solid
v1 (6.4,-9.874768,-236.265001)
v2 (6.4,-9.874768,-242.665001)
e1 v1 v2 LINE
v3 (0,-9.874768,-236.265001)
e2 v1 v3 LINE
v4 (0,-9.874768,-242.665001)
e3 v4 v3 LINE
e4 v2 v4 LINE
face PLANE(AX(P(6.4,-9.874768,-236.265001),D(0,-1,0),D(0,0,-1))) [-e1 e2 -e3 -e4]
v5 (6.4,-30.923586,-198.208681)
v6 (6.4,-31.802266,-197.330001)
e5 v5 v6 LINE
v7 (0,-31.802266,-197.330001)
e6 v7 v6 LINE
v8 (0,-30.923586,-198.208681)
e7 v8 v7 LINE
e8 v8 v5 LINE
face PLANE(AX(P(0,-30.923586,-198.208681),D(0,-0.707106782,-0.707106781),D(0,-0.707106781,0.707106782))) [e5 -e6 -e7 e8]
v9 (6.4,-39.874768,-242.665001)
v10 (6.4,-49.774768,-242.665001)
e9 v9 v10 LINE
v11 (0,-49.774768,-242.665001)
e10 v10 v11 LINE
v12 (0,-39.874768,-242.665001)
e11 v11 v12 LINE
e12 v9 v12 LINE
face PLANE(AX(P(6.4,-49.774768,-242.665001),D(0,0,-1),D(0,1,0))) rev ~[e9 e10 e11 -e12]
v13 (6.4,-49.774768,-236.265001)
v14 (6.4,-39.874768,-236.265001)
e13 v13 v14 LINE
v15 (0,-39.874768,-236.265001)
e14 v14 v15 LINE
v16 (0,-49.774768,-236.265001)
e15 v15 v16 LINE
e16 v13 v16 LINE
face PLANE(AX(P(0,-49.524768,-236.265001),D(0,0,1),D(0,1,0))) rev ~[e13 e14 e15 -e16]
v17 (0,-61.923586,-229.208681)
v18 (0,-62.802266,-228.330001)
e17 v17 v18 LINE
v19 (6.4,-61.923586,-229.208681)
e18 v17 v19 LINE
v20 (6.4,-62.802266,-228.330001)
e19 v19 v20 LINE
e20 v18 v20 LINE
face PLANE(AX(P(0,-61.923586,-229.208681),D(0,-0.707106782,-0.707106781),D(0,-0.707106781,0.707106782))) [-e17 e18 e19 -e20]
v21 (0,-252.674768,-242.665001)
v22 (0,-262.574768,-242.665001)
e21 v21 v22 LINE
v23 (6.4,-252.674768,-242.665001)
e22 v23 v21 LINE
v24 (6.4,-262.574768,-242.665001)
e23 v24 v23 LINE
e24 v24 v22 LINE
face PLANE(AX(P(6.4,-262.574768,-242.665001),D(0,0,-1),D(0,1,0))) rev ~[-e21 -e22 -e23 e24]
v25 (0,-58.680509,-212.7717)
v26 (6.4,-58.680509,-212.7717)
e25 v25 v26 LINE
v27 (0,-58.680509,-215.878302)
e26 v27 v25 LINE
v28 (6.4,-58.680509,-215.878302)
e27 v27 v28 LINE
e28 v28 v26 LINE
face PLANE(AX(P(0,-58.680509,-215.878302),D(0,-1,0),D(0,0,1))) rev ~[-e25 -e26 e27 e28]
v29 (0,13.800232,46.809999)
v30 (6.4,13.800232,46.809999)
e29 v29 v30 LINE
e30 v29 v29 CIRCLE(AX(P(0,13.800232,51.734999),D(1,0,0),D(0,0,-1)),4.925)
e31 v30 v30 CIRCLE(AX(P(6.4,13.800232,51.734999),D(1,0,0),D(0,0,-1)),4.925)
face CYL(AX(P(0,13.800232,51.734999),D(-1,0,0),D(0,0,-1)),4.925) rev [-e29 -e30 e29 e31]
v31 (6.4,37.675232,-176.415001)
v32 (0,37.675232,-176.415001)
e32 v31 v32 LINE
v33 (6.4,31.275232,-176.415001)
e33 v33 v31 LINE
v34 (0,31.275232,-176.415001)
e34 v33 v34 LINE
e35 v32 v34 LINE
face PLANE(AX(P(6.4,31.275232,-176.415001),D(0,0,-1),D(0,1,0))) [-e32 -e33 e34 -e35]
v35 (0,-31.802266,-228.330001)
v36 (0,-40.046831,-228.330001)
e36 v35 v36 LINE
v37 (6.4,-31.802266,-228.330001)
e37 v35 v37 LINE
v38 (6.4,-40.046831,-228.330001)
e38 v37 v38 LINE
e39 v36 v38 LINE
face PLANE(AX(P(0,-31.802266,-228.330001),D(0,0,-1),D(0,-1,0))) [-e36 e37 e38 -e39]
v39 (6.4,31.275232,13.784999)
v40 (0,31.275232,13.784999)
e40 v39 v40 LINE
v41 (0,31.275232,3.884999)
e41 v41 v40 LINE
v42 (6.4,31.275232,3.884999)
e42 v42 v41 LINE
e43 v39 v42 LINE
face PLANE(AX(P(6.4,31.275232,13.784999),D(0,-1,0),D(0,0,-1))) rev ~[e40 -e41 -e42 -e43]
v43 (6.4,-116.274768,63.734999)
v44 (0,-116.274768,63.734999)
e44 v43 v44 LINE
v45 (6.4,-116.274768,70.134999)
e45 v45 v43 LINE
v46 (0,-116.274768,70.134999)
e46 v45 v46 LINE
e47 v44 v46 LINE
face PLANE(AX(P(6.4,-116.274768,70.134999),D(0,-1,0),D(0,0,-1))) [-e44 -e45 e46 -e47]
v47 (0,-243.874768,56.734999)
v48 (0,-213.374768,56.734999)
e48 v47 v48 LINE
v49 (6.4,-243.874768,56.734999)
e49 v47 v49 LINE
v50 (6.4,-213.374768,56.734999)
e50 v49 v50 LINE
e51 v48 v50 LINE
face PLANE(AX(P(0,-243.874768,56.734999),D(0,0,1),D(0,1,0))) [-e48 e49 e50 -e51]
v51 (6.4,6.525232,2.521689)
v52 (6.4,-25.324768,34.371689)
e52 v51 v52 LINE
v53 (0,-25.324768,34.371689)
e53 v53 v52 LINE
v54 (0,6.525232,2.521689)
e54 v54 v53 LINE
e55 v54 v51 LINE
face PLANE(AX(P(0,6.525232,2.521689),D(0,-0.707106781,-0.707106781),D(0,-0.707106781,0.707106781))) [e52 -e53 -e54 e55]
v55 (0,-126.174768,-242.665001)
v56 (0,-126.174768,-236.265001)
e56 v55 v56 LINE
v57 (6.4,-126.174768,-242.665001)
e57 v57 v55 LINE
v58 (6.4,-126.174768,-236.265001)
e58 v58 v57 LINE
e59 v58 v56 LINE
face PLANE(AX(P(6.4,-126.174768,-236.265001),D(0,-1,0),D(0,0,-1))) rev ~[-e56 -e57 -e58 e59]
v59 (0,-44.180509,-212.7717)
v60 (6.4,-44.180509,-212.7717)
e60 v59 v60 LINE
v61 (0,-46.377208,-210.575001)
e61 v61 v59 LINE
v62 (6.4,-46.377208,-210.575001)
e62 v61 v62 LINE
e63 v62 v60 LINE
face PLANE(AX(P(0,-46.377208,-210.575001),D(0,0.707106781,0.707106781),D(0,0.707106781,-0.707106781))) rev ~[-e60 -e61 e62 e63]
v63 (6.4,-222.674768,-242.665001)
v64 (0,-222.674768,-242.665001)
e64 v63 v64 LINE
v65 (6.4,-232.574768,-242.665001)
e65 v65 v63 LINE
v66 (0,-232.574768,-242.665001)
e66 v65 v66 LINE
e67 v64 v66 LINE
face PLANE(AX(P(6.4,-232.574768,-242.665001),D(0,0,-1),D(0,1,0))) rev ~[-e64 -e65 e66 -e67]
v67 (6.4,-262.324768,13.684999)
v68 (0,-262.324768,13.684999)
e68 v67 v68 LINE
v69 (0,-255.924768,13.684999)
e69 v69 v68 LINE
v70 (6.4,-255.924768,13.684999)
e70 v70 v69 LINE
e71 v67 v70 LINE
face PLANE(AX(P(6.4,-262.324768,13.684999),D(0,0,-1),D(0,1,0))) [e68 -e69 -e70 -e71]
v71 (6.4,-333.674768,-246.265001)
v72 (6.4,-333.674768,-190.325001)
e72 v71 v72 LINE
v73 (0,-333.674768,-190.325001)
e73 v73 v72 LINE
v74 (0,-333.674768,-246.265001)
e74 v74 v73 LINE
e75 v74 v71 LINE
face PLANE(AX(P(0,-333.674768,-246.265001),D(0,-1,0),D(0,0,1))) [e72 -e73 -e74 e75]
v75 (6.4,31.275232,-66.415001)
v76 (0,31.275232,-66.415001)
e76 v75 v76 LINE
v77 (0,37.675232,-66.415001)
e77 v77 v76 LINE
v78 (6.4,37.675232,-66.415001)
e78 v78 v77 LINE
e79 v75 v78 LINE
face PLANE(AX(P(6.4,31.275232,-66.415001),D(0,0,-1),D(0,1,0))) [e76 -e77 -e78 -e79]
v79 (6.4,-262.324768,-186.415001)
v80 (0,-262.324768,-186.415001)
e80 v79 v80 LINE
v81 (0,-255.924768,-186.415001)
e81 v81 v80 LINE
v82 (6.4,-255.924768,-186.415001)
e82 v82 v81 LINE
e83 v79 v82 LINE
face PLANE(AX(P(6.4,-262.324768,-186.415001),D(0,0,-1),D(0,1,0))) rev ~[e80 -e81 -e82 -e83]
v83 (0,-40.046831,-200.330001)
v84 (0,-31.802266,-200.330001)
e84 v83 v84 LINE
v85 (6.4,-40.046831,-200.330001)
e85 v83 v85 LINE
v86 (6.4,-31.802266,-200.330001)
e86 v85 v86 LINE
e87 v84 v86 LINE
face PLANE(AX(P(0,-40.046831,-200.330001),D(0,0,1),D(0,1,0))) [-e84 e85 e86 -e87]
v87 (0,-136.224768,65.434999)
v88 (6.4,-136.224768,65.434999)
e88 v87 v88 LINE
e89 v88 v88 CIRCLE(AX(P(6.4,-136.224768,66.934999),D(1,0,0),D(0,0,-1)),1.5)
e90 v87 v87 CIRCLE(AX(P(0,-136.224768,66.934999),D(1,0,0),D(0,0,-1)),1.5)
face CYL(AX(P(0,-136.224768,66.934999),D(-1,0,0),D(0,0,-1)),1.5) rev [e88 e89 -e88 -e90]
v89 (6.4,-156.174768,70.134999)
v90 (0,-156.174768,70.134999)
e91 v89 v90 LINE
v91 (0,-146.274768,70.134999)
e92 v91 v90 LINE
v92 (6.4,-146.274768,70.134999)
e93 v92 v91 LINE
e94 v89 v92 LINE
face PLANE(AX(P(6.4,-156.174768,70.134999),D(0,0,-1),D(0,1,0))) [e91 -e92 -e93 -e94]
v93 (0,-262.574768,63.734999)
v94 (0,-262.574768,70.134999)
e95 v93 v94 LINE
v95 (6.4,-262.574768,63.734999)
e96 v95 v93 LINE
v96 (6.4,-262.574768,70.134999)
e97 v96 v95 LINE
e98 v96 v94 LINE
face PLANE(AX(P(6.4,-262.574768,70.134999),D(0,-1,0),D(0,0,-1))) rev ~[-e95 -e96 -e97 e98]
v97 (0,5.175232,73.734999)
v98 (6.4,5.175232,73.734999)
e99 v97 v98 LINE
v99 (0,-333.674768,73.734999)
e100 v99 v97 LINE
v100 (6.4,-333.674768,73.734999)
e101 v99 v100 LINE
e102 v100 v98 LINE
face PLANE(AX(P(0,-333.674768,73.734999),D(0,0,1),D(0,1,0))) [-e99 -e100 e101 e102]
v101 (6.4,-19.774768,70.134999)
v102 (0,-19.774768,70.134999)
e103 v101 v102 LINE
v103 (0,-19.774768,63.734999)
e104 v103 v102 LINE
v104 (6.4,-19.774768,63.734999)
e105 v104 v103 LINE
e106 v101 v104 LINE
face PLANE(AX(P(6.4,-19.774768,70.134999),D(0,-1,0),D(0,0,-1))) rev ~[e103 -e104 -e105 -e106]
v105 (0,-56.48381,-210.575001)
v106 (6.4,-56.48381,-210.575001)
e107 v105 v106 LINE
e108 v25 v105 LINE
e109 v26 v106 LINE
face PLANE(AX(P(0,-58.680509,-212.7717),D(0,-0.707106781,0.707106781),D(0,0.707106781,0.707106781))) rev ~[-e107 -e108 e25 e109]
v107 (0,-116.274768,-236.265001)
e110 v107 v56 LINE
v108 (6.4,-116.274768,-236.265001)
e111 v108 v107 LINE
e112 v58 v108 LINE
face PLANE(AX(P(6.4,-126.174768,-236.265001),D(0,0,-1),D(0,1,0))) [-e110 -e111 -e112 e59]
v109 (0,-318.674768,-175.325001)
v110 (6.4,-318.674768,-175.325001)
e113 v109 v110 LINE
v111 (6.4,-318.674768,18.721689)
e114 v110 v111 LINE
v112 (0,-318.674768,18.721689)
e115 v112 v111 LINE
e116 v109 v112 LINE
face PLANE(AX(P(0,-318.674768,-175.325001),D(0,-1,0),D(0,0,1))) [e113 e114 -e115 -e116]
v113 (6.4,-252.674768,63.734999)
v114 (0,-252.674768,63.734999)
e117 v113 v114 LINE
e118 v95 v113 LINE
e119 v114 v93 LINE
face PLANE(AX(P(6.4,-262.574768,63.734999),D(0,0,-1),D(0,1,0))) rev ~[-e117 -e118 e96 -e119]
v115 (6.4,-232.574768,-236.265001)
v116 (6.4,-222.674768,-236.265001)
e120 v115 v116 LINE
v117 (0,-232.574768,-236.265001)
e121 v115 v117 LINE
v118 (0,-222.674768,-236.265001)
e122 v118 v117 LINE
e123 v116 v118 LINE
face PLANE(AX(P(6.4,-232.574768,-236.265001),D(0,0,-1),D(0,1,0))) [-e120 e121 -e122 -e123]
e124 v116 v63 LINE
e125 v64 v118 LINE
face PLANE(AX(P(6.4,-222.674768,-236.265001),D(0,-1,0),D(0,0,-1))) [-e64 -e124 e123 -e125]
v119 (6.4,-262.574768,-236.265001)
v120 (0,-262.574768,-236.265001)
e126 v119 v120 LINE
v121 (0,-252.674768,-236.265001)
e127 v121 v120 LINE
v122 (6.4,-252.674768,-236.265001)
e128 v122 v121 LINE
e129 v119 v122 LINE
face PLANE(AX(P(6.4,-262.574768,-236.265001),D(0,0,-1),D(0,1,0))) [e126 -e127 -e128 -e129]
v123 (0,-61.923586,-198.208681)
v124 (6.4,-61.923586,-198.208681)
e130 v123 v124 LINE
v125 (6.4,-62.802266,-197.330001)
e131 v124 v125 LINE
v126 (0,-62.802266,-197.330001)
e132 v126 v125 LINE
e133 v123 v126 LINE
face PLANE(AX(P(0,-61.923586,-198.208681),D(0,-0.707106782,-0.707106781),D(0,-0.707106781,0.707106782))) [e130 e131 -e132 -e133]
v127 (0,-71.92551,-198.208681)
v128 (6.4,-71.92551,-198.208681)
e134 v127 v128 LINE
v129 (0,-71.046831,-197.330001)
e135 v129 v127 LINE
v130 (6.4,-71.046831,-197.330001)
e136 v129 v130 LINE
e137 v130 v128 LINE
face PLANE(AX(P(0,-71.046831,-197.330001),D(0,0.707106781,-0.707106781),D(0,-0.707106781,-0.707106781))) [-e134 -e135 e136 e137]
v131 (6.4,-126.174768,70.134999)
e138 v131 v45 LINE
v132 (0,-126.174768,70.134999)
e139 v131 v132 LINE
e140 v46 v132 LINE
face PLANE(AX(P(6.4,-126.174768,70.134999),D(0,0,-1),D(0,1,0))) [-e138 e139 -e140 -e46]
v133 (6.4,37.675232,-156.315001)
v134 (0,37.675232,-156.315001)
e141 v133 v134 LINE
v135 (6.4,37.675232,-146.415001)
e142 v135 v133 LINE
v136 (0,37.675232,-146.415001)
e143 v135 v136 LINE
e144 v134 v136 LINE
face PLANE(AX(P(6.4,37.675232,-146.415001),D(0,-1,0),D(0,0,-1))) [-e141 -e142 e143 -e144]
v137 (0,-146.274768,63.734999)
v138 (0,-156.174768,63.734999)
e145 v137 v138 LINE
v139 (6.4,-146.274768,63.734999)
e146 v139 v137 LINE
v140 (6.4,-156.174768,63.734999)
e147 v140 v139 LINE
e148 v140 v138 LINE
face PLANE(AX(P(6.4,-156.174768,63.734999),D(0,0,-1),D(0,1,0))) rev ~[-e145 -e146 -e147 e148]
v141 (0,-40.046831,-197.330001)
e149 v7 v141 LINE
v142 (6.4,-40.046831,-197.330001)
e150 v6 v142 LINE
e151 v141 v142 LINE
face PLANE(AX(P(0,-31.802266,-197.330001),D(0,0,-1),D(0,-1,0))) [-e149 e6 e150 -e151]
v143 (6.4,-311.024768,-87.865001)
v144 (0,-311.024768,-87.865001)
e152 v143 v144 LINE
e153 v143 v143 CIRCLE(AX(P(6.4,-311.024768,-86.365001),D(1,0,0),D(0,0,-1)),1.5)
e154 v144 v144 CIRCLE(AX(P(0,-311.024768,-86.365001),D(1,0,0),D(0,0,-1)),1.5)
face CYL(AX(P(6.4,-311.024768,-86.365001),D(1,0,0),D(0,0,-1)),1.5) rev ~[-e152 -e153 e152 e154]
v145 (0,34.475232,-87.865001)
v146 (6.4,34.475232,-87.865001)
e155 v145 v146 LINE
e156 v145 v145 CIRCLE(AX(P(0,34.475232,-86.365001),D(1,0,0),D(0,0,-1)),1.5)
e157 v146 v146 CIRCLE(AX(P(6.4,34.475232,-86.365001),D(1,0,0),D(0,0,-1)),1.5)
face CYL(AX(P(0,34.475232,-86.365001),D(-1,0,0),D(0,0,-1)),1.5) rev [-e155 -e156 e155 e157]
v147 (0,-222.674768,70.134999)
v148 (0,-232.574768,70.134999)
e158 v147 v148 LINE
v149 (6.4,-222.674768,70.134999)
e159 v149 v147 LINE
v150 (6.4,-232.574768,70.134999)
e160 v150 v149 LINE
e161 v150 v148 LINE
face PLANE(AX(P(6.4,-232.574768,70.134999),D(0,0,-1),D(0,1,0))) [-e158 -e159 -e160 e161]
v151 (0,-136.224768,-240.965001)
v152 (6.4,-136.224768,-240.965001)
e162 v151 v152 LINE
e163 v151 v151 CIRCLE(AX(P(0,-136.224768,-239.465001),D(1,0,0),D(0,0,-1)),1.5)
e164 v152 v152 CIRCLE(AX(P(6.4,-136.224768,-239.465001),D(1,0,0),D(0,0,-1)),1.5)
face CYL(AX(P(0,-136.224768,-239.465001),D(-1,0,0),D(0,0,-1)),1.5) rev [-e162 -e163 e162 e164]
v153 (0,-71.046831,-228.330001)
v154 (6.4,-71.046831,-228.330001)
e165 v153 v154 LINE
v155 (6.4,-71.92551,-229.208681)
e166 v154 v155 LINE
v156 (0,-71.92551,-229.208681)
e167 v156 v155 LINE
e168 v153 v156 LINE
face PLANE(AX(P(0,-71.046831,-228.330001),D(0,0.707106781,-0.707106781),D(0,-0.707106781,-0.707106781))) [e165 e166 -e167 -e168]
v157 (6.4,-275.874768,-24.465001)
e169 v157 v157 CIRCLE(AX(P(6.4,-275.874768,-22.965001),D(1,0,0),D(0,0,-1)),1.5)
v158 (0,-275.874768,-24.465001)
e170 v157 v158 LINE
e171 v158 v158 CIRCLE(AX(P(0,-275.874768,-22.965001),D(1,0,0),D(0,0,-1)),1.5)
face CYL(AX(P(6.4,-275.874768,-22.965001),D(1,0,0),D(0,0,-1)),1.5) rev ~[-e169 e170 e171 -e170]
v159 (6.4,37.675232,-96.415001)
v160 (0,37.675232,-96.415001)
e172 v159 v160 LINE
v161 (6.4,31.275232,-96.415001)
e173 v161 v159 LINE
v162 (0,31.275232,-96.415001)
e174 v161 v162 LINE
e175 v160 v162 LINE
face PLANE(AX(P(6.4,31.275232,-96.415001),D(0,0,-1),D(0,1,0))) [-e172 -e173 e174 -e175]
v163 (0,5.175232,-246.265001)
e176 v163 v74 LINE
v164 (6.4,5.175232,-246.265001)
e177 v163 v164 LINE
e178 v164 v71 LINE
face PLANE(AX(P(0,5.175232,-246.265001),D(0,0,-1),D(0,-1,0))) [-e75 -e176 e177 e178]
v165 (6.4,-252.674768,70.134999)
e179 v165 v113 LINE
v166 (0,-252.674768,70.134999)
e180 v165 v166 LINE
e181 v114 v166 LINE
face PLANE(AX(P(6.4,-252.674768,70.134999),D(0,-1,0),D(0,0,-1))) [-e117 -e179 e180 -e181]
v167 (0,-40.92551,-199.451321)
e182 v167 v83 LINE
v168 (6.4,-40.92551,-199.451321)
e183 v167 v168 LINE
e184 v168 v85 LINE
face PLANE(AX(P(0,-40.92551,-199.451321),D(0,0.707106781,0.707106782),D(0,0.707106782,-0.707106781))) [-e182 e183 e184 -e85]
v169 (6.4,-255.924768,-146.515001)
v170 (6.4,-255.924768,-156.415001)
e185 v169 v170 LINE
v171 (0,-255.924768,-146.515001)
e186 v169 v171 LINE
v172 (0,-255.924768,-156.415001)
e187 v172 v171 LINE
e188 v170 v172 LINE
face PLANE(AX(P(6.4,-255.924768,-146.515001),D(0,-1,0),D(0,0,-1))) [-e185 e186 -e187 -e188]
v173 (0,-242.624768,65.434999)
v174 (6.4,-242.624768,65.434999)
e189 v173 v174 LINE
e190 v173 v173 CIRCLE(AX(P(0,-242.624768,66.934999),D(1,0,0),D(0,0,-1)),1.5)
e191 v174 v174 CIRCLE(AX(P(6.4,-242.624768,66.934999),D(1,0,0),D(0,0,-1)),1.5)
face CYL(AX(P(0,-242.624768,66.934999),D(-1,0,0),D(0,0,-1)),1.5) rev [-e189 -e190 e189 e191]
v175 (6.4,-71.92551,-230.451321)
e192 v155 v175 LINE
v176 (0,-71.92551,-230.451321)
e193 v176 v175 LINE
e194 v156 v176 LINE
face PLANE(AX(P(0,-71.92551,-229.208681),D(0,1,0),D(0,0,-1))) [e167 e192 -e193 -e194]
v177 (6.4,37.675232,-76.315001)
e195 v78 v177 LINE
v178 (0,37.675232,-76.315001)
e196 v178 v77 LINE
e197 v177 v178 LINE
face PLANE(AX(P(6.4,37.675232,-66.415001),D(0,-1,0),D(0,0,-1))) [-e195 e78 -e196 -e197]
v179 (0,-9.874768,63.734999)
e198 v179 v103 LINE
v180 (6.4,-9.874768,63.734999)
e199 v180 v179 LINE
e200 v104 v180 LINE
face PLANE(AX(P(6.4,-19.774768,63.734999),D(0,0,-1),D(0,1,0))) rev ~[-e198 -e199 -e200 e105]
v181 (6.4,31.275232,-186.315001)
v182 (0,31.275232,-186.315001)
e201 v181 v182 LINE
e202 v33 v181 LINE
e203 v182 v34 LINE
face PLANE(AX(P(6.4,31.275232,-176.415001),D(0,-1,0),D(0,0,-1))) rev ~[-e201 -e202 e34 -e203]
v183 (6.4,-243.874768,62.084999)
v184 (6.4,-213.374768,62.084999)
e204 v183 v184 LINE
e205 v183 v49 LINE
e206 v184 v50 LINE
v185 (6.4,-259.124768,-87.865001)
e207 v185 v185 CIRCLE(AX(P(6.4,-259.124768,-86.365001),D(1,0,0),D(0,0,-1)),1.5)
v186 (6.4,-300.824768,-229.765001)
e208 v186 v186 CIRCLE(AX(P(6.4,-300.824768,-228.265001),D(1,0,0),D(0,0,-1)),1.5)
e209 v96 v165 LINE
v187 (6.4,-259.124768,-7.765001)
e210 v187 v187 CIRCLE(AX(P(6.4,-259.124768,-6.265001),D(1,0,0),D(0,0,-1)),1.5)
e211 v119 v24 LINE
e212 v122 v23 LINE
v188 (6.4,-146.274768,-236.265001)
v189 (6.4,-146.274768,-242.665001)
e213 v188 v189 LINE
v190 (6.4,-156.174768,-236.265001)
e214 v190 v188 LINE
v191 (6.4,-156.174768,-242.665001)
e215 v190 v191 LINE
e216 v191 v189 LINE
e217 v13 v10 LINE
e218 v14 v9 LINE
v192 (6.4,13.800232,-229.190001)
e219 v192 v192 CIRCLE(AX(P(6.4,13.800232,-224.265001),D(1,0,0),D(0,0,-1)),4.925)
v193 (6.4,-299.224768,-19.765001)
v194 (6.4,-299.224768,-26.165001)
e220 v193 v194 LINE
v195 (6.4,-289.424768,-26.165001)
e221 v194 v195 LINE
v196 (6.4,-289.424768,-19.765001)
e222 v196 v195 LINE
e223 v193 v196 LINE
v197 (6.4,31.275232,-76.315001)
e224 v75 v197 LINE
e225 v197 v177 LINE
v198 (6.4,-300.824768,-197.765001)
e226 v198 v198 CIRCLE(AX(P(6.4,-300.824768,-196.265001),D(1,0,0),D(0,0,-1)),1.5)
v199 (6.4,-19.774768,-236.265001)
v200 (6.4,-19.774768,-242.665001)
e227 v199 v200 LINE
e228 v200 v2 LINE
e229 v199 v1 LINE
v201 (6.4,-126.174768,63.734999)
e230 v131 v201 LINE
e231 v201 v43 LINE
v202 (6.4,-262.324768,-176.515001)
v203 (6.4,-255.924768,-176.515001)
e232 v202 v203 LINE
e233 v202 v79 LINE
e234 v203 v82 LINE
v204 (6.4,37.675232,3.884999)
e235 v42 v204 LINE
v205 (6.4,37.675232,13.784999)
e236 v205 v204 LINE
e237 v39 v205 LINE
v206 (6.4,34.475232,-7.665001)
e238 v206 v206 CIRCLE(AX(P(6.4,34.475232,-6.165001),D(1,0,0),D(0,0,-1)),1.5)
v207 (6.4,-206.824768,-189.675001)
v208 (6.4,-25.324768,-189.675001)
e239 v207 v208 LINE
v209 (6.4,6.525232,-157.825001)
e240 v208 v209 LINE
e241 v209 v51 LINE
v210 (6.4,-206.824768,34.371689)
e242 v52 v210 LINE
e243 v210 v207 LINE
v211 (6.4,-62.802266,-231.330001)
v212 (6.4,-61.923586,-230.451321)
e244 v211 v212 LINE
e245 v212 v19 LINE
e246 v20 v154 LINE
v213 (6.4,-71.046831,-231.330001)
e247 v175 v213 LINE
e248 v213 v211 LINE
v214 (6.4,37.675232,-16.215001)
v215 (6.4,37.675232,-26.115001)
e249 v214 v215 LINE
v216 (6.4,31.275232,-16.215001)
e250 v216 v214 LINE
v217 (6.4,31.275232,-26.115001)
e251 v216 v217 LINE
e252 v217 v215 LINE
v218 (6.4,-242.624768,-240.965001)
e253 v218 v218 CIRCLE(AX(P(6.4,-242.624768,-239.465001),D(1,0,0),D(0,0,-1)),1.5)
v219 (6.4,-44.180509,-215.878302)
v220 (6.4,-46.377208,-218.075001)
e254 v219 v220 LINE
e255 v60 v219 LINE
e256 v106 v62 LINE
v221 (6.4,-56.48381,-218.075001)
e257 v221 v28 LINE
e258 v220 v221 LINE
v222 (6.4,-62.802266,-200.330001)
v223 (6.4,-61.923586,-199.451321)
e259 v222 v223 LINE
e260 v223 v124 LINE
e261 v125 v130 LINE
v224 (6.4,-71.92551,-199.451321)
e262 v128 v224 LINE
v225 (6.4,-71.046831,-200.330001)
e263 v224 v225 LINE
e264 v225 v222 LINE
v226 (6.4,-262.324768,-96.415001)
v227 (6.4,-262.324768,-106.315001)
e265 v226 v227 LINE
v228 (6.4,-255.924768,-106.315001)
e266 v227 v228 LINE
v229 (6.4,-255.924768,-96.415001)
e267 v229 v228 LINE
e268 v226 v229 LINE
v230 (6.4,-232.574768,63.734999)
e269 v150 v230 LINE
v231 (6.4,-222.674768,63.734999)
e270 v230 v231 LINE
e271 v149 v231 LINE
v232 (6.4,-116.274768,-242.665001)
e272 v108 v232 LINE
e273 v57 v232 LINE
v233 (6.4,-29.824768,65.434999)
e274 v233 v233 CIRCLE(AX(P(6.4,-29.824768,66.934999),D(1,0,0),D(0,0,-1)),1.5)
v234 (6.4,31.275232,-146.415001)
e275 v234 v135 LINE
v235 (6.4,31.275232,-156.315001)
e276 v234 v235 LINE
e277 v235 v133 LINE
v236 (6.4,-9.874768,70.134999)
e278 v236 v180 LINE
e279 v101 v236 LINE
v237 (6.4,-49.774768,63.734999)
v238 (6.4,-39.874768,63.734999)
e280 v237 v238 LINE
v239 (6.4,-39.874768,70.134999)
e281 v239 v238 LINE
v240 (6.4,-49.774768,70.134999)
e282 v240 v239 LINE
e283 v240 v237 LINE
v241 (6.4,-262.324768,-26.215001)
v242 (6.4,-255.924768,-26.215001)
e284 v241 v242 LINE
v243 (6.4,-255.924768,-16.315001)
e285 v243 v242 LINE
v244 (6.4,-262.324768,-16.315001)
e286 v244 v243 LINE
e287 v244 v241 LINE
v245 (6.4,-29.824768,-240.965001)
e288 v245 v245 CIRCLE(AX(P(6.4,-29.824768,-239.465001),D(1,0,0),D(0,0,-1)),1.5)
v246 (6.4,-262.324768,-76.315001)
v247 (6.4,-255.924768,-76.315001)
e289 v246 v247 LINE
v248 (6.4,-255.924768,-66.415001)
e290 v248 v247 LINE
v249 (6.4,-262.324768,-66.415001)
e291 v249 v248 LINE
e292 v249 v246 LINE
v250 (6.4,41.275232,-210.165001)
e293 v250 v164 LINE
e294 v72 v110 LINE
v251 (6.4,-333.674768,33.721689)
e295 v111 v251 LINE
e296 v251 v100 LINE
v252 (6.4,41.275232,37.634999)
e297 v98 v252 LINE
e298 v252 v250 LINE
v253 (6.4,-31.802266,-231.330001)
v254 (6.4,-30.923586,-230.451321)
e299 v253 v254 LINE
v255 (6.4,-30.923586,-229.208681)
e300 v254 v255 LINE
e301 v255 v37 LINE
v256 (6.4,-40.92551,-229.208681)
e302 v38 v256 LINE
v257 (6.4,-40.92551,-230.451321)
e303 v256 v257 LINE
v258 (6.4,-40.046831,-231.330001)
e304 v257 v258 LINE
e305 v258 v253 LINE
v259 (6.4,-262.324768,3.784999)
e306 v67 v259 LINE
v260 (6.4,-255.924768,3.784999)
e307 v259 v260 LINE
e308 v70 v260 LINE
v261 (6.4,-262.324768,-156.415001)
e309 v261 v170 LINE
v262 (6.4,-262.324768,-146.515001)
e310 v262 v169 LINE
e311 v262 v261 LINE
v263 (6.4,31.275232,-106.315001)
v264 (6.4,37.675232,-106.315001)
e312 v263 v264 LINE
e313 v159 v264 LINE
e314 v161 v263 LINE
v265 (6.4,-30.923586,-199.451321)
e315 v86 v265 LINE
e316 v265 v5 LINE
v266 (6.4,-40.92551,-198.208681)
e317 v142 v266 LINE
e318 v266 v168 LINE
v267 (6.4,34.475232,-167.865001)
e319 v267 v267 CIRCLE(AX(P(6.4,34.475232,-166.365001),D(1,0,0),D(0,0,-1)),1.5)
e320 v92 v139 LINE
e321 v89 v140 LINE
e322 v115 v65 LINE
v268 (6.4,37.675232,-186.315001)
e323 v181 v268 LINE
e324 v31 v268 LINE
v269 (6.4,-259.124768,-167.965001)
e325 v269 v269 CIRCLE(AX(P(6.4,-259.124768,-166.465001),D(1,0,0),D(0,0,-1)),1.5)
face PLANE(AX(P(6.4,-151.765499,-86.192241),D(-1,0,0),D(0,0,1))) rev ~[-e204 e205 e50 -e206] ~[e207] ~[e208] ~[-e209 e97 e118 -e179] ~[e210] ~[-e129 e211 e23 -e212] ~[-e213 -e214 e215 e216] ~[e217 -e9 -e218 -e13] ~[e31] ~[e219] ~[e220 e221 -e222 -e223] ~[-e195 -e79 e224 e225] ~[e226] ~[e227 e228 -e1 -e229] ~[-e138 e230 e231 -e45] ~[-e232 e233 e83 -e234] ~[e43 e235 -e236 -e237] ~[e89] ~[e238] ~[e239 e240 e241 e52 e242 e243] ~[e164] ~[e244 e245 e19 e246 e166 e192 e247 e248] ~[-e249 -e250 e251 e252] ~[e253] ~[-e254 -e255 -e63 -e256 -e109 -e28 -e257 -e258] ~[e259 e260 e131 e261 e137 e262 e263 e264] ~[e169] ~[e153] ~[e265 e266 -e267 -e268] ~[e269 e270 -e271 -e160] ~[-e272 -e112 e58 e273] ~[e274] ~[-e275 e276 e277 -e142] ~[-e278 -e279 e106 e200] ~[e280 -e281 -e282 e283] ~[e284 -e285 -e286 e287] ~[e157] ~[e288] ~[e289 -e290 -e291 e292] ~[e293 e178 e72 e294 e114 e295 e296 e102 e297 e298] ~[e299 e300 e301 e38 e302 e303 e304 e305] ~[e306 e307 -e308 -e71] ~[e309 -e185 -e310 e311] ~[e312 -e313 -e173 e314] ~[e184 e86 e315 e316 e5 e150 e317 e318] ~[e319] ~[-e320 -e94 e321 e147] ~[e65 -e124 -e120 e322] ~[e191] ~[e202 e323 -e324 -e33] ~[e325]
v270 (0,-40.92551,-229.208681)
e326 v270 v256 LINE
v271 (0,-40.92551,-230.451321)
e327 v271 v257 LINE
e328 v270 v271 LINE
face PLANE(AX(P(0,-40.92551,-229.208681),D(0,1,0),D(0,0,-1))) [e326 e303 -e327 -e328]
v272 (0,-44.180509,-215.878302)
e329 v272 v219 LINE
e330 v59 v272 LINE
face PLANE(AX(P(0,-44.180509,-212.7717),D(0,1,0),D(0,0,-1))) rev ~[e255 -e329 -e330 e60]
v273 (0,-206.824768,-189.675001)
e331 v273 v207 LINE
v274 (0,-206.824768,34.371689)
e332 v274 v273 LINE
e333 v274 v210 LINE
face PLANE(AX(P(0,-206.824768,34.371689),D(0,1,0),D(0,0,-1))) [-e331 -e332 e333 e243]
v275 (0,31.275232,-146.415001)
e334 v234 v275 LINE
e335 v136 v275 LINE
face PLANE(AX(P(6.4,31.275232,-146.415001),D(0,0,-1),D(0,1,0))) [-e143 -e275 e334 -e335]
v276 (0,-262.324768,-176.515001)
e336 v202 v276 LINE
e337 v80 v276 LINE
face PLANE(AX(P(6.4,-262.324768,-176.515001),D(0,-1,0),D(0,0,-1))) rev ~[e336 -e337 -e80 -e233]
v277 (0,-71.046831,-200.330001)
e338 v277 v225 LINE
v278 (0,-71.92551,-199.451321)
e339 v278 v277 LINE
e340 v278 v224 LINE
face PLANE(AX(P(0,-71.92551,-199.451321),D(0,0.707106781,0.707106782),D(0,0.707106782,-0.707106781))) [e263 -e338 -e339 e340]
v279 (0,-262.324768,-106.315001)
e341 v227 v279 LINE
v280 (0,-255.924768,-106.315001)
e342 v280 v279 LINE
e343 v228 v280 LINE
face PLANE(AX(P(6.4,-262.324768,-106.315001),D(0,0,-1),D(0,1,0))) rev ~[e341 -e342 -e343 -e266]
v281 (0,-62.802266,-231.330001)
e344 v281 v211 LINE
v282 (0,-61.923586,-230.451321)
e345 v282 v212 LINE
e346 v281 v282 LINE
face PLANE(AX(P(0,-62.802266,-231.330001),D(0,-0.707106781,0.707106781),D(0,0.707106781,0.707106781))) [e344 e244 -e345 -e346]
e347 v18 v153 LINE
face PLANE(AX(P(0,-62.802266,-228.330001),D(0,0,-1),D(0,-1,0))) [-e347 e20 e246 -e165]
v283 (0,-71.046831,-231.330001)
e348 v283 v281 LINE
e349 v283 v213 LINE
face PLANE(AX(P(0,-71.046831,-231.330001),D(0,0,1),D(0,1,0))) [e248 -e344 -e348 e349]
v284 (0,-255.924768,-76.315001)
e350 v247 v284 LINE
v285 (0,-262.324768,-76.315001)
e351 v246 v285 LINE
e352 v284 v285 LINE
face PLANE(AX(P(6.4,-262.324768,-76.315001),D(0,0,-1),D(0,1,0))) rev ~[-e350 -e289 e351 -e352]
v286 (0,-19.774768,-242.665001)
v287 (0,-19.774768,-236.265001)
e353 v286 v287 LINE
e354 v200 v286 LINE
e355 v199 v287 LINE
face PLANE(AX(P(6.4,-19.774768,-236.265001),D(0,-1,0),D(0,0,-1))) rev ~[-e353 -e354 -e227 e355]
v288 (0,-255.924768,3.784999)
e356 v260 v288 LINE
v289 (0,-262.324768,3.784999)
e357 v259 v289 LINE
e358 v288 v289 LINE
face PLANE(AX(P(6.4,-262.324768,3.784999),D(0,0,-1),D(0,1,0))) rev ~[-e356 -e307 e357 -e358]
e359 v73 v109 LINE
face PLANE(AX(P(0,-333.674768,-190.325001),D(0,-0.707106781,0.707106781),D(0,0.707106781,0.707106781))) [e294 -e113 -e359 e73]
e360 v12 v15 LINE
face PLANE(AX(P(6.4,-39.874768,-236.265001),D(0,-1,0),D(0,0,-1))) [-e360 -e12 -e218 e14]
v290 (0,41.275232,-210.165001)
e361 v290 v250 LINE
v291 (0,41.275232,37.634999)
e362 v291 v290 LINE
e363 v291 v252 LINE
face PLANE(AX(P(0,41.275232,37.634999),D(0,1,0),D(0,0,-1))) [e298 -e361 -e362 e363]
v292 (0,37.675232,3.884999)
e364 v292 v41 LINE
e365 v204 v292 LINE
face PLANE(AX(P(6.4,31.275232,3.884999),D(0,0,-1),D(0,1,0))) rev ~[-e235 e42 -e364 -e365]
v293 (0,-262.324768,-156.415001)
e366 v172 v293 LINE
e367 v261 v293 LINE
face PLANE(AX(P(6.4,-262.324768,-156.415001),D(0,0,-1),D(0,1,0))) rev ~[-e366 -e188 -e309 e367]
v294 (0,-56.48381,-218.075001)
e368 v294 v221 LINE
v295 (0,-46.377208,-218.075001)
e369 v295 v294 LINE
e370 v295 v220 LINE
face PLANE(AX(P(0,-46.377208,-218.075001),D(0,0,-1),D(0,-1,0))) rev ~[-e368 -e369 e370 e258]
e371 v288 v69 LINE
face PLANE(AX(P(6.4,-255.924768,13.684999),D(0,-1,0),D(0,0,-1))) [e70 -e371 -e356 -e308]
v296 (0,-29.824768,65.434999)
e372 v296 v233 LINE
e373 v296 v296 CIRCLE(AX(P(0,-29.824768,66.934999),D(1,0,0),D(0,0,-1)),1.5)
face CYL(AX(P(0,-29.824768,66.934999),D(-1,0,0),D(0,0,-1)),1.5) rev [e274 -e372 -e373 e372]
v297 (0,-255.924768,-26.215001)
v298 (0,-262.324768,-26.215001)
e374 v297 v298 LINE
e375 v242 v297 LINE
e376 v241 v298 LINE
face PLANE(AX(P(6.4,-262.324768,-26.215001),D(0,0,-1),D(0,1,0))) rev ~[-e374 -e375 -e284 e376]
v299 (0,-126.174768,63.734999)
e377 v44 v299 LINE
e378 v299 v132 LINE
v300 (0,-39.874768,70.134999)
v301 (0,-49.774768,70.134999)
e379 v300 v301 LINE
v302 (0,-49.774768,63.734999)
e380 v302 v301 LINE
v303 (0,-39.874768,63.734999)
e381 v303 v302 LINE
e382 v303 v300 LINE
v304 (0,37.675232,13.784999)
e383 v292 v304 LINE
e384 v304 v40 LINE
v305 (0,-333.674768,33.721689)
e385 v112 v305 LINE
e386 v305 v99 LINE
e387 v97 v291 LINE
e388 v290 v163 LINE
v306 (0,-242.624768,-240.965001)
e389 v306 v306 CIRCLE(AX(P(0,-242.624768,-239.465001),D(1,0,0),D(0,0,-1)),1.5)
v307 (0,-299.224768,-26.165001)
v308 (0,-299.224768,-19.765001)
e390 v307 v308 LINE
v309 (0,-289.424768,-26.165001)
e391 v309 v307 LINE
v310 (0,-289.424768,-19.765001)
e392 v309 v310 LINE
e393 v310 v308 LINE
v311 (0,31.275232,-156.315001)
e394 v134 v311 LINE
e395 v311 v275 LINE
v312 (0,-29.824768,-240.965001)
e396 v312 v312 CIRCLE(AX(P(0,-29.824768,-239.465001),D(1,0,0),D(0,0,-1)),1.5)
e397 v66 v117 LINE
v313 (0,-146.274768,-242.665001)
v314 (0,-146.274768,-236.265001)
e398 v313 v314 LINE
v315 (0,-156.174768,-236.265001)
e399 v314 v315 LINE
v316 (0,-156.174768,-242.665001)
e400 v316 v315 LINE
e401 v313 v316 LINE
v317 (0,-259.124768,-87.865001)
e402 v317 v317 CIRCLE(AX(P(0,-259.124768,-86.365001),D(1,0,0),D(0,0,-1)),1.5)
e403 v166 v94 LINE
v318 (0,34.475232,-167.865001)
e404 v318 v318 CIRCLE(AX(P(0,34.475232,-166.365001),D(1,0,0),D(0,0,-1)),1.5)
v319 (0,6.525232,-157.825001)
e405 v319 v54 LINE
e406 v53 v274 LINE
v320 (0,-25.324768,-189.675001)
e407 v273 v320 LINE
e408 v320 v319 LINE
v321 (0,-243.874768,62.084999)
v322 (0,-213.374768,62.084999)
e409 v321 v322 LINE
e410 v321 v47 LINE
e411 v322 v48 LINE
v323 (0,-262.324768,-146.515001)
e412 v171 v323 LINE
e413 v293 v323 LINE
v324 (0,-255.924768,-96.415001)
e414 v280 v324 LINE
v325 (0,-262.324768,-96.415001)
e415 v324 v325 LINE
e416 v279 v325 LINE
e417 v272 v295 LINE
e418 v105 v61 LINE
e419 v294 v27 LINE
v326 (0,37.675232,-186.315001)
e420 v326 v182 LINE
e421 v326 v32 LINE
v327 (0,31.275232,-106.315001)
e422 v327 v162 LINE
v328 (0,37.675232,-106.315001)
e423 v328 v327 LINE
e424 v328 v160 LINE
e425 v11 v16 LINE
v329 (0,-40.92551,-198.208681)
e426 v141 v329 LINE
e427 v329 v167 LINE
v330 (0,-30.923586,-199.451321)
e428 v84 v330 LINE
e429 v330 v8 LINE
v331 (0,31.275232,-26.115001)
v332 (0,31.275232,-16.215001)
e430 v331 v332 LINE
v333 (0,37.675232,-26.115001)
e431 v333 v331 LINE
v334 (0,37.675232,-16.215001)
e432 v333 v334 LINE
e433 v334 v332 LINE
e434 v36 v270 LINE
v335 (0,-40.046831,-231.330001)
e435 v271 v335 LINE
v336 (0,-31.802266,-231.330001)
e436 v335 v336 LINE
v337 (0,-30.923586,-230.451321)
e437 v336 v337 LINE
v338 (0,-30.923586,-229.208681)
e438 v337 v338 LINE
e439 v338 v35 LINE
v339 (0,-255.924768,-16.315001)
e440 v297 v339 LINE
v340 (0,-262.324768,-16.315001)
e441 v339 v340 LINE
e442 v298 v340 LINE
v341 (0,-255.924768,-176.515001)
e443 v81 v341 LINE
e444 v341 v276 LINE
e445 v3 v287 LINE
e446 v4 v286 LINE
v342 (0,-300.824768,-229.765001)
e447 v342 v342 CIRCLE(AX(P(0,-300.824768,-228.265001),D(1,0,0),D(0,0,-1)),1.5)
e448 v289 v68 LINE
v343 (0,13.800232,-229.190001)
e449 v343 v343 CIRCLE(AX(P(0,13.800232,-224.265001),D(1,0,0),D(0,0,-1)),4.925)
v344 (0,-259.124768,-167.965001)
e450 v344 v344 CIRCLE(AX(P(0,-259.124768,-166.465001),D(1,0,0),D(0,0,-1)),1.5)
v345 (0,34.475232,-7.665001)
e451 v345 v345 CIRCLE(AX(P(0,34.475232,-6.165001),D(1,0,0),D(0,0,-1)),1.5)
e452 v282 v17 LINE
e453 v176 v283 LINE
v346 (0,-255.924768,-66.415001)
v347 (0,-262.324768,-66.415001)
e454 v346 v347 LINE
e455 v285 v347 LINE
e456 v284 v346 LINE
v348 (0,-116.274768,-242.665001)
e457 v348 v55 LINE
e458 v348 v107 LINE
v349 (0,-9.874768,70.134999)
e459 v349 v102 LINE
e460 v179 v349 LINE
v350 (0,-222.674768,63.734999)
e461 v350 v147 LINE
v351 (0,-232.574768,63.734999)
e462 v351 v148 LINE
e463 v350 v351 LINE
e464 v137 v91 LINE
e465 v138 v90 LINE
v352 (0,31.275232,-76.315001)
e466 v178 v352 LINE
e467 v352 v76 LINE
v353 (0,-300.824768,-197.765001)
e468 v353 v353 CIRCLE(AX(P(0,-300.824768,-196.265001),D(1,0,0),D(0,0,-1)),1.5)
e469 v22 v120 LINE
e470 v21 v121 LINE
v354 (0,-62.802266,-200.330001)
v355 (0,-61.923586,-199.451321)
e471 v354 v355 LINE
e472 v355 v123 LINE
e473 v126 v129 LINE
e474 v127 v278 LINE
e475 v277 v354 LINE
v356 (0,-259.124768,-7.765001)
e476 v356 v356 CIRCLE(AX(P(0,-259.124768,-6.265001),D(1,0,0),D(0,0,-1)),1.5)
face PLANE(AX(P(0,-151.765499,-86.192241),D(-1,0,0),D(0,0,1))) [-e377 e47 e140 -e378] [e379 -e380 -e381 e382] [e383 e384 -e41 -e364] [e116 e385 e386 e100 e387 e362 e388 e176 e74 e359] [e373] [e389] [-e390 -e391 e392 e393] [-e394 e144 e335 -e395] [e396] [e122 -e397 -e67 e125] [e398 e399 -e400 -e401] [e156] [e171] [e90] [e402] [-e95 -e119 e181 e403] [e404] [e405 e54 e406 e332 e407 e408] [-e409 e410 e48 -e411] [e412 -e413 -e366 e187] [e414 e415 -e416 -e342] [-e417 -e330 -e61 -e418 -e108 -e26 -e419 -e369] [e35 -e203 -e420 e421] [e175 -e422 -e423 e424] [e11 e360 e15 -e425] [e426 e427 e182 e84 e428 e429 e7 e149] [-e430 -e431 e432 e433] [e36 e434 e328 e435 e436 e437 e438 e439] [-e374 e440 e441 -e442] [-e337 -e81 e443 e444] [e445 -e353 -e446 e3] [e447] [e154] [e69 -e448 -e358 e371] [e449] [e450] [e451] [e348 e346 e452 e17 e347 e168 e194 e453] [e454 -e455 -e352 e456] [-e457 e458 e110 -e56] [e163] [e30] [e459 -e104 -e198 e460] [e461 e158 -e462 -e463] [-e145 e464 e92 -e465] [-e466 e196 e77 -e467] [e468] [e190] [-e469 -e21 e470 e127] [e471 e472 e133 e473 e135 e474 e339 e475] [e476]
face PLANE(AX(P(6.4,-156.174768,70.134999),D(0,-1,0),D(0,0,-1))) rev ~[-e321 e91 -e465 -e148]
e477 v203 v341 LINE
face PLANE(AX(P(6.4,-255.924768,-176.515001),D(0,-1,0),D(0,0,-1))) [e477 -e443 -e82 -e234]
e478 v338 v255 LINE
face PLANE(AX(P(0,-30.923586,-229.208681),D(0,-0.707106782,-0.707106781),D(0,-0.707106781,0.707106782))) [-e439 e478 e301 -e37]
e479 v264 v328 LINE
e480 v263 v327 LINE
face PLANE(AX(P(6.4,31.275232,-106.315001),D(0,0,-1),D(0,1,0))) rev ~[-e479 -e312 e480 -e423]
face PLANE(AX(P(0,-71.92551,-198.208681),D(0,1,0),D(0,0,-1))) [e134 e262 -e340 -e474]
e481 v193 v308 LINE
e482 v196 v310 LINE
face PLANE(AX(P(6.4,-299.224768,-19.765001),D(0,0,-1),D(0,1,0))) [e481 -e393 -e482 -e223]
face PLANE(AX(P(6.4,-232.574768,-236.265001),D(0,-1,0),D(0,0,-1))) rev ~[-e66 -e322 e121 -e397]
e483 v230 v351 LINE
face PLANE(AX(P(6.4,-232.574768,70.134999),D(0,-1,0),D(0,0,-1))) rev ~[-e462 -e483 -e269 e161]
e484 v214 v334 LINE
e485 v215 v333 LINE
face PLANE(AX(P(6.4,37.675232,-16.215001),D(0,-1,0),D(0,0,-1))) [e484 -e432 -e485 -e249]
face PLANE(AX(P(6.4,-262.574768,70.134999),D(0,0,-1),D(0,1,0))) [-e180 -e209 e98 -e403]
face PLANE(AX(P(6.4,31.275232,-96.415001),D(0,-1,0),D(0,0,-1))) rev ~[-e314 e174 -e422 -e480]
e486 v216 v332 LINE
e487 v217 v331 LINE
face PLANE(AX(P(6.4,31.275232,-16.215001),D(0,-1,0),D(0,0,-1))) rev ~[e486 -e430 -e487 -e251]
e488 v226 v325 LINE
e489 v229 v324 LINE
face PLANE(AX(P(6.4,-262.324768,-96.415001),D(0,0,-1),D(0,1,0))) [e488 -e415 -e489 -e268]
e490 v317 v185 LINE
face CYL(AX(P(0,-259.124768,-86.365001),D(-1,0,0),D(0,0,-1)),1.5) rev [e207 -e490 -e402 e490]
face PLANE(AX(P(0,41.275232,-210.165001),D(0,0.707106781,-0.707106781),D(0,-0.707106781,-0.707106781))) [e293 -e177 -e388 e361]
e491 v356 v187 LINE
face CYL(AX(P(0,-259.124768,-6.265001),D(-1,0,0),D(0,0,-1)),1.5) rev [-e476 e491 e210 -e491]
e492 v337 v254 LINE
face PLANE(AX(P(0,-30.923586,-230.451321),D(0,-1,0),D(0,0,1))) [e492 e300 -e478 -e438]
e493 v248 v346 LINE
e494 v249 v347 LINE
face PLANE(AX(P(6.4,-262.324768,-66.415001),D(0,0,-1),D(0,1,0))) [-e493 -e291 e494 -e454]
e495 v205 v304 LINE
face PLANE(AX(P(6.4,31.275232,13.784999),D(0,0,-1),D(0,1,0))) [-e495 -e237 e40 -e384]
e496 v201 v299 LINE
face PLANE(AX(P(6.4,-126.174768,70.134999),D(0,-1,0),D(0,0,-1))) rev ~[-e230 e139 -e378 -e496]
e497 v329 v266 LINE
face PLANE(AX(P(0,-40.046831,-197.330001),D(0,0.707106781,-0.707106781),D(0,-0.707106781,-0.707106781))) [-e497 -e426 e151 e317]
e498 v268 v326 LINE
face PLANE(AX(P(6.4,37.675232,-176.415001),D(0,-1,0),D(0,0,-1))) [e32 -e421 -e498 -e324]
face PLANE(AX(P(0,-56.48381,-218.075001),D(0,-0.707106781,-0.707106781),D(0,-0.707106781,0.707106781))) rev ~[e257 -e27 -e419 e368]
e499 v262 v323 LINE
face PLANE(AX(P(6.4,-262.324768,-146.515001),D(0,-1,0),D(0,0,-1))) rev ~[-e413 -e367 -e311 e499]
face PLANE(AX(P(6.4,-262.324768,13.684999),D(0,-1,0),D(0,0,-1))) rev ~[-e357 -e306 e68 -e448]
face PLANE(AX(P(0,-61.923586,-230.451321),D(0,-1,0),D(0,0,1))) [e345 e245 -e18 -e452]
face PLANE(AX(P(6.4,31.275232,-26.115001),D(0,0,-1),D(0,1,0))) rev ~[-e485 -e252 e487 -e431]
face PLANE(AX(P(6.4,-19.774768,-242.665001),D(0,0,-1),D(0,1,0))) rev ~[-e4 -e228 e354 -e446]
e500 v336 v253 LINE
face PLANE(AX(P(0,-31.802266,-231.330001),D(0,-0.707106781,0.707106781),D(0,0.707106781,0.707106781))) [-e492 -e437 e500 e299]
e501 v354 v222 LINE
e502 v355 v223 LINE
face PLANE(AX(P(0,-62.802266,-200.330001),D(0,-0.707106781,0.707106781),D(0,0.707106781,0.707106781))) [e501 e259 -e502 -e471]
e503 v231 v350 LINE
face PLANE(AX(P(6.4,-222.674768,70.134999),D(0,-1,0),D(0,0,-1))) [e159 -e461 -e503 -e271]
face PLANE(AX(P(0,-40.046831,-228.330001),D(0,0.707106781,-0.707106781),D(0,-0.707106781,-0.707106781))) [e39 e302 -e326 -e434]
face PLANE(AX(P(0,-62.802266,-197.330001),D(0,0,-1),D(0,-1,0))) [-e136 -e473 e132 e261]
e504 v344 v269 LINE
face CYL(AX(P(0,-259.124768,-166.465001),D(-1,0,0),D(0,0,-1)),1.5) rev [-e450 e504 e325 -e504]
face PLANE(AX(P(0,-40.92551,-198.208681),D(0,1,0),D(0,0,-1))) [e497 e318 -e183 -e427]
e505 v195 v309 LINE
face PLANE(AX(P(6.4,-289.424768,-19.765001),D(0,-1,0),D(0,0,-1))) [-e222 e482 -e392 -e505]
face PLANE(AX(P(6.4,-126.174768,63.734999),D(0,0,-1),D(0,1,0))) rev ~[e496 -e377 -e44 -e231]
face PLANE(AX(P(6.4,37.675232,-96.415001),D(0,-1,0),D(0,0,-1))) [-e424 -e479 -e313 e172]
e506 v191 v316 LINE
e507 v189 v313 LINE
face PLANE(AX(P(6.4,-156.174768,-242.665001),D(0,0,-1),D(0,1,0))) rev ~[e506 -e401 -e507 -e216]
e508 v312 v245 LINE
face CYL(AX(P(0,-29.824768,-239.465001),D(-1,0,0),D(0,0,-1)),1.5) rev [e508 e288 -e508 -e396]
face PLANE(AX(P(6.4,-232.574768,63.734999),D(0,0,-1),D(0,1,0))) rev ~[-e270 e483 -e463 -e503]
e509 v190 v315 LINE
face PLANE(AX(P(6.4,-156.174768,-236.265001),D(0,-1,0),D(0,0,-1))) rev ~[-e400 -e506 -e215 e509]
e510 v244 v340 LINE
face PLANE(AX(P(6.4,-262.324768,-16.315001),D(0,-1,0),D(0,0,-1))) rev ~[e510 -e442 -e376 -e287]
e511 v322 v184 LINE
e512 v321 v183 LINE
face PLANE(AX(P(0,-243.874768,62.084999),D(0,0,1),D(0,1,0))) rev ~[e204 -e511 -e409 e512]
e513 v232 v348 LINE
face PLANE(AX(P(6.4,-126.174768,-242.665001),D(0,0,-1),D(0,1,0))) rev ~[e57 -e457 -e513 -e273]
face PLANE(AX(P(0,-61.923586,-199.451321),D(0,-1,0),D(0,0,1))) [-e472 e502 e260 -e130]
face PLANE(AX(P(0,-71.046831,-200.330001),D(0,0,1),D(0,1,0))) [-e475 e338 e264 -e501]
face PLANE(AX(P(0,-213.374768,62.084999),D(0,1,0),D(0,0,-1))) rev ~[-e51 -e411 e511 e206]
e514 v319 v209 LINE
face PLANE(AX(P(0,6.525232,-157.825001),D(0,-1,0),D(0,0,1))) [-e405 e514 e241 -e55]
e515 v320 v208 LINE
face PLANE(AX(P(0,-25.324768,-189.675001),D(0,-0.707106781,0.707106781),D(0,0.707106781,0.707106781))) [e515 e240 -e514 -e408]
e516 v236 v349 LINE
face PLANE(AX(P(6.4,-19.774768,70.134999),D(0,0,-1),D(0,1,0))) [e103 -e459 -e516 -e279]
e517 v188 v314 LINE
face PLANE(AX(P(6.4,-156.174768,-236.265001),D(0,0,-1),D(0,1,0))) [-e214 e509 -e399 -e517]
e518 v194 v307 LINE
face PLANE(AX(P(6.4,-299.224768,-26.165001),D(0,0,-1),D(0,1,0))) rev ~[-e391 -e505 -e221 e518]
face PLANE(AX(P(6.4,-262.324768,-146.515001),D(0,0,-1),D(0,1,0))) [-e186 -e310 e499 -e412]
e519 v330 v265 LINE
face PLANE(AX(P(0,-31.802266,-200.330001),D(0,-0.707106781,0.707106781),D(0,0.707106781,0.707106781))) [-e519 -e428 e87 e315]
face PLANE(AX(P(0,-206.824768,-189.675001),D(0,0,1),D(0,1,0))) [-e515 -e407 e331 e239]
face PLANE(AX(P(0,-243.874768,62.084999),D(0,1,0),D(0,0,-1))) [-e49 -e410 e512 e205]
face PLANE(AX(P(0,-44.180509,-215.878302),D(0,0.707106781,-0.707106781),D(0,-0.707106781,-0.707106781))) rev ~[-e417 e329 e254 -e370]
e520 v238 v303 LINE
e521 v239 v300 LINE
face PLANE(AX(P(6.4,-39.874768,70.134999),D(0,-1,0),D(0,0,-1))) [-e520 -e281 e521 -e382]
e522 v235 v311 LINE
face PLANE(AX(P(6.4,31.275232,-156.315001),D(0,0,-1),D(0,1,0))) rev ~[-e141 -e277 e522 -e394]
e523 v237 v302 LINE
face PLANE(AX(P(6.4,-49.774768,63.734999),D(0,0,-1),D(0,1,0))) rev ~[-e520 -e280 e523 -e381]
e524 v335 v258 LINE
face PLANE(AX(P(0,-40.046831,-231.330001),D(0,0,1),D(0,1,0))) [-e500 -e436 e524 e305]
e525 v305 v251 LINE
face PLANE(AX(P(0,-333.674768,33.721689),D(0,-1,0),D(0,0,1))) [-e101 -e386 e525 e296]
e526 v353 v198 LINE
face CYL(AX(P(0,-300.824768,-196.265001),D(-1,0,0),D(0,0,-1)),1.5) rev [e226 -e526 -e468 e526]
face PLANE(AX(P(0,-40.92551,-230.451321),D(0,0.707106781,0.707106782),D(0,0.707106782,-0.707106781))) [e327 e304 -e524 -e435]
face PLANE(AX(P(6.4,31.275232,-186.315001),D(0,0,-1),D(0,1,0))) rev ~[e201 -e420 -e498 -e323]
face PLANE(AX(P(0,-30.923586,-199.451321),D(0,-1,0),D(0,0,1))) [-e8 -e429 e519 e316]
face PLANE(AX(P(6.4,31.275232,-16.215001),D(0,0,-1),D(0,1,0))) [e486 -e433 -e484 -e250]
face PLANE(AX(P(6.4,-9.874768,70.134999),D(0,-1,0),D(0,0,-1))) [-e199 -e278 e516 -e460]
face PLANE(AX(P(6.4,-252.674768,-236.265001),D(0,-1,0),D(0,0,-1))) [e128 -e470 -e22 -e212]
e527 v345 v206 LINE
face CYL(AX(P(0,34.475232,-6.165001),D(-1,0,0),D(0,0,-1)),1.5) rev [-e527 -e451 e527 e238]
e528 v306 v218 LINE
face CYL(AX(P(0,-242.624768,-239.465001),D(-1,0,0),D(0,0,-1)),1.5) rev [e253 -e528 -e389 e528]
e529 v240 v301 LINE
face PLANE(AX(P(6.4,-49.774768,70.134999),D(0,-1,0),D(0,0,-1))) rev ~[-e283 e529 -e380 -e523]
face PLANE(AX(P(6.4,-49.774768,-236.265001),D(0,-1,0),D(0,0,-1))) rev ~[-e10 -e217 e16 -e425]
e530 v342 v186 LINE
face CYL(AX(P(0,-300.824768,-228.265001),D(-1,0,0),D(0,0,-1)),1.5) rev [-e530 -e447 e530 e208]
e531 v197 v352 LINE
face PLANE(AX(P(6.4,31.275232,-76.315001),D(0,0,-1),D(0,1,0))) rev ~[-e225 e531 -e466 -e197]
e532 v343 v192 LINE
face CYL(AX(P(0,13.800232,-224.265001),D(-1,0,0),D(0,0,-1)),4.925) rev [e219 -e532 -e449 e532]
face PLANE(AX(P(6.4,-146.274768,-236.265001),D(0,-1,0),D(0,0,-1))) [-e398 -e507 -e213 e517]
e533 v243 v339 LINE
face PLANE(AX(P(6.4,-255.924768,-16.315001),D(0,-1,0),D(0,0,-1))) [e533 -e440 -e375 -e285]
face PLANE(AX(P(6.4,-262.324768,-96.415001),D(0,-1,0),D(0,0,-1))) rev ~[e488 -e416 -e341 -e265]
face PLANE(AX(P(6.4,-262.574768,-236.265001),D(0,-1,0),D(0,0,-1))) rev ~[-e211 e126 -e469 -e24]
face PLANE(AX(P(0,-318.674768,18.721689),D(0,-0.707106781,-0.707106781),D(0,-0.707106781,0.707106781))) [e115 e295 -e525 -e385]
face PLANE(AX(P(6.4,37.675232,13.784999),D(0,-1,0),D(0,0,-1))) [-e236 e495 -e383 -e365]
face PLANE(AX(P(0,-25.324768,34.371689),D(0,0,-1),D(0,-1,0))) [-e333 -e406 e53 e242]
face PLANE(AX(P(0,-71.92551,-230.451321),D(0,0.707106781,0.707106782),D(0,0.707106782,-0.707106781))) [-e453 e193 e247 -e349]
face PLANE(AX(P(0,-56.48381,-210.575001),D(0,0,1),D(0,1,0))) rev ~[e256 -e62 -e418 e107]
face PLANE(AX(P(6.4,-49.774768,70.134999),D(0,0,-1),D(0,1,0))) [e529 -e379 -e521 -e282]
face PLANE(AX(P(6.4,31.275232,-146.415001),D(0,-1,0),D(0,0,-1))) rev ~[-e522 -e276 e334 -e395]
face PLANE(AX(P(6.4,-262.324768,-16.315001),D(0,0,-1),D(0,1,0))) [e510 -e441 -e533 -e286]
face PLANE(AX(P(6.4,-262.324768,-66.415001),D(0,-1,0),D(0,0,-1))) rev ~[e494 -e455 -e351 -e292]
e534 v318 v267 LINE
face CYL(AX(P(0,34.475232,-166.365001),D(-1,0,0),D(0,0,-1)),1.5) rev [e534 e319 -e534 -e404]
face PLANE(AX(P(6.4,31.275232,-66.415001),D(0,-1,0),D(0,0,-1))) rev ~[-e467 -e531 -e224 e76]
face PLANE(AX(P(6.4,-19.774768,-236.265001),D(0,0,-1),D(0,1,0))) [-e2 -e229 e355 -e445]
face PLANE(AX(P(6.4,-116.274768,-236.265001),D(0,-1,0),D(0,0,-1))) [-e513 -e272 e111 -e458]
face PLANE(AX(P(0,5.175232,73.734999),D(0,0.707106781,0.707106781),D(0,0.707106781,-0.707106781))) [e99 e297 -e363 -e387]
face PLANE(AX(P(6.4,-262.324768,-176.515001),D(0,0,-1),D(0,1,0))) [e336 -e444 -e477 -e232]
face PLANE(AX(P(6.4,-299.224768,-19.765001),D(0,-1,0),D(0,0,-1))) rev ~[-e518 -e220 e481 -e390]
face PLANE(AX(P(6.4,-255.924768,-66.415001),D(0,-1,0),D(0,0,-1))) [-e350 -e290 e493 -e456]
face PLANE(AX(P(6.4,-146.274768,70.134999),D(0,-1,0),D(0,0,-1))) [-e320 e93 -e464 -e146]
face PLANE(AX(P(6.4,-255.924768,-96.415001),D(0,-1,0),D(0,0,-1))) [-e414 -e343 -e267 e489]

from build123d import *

# Parameters (mm, degrees)
SKETCH1_R           = 1.5
SKETCH1_R_2         = 4.925
SKETCH1_W           = 5.35
SKETCH1_H           = 30.5
SKETCH1_W_2         = 6.4
SKETCH1_H_2         = 9.4
BOSS_EXTRUDE1_DEPTH = 6.4
SKETCH2_R           = 1.5
SKETCH2_W           = 6.4
SKETCH2_H           = 9.9
SKETCH2_W_2         = 9.9
SKETCH2_H_2         = 6.4
SKETCH2_H_3         = 9.8
CUT_EXTRUDE1_DEPTH  = 415.760486883


with BuildPart() as part:
    # Sketch1 → Boss-Extrude1 (new body)
    with BuildSketch(Plane(origin=(0, 0, 0), x_dir=(0, 0, -1), z_dir=(1, 0, 0))):
        Polygon((-37.634998875, 41.275232149), (210.165001125, 41.275232149), (246.265001125, 5.175232149), (246.265001125, -333.674767851), (190.325001125, -333.674767851), (175.325001125, -318.674767851), (-18.721689147, -318.674767851), (-33.721689147, -333.674767851), (-73.734998875, -333.674767851), (-73.734998875, 5.175232149), align=None)
        with Locations((6.165001125, 34.475232149)):
            Circle(SKETCH1_R, mode=Mode.SUBTRACT)
        with Locations((86.365001125, 34.475232149)):
            Circle(SKETCH1_R, mode=Mode.SUBTRACT)
        with Locations((166.365001125, 34.475232149)):
            Circle(SKETCH1_R, mode=Mode.SUBTRACT)
        with Locations((86.365001125, -259.124767851)):
            Circle(SKETCH1_R, mode=Mode.SUBTRACT)
        with Locations((166.465001125, -259.124767851)):
            Circle(SKETCH1_R, mode=Mode.SUBTRACT)
        with Locations((6.265001125, -259.124767851)):
            Circle(SKETCH1_R, mode=Mode.SUBTRACT)
        with Locations((239.465001125, -29.824767851)):
            Circle(SKETCH1_R, mode=Mode.SUBTRACT)
        with Locations((239.465001125, -136.224767851)):
            Circle(SKETCH1_R, mode=Mode.SUBTRACT)
        with Locations((239.465001125, -242.624767851)):
            Circle(SKETCH1_R, mode=Mode.SUBTRACT)
        with Locations((-66.934998875, -242.624767851)):
            Circle(SKETCH1_R, mode=Mode.SUBTRACT)
        with Locations((-66.934998875, -136.224767851)):
            Circle(SKETCH1_R, mode=Mode.SUBTRACT)
        with Locations((-66.934998875, -29.824767851)):
            Circle(SKETCH1_R, mode=Mode.SUBTRACT)
        with Locations((224.265001125, 13.800232149)):
            Circle(SKETCH1_R_2, mode=Mode.SUBTRACT)
        with Locations((-51.734998875, 13.800232149)):
            Circle(SKETCH1_R_2, mode=Mode.SUBTRACT)
        with Locations((228.265001125, -300.824767851)):
            Circle(SKETCH1_R, mode=Mode.SUBTRACT)
        with Locations((196.265001125, -300.824767851)):
            Circle(SKETCH1_R, mode=Mode.SUBTRACT)
        Polygon((-34.371689147, -25.324767851), (-34.371689147, -206.824767851), (189.675001125, -206.824767851), (189.675001125, -25.324767851), (157.825001125, 6.525232149), (-2.521689147, 6.525232149), align=None, mode=Mode.SUBTRACT)
        with Locations((-59.409998875, -228.624767851)):
            Rectangle(SKETCH1_W, SKETCH1_H, mode=Mode.SUBTRACT)
        Polygon((230.451321469, -30.923586412), (229.208680782, -30.923586412), (228.330001125, -31.802266068), (228.330001125, -40.046830544), (229.208680782, -40.925510201), (230.451321469, -40.925510201), (231.330001125, -40.046830544), (231.330001125, -31.802266068), align=None, mode=Mode.SUBTRACT)
        Polygon((215.878301984, -58.680508661), (212.771700266, -58.680508661), (210.575001125, -56.483809519), (210.575001125, -46.377207802), (212.771700266, -44.180508661), (215.878301984, -44.180508661), (218.075001125, -46.377207802), (218.075001125, -56.483809519), align=None, mode=Mode.SUBTRACT)
        Polygon((200.330001125, -31.802266068), (199.451321469, -30.923586412), (198.208680782, -30.923586412), (197.330001125, -31.802266068), (197.330001125, -40.046830544), (198.208680782, -40.925510201), (199.451321469, -40.925510201), (200.330001125, -40.046830544), align=None, mode=Mode.SUBTRACT)
        Polygon((230.451321469, -61.923586412), (229.208680782, -61.923586412), (228.330001125, -62.802266068), (228.330001125, -71.046830544), (229.208680782, -71.925510201), (230.451321469, -71.925510201), (231.330001125, -71.046830544), (231.330001125, -62.802266068), align=None, mode=Mode.SUBTRACT)
        Polygon((199.451321469, -61.923586412), (198.208680782, -61.923586412), (197.330001125, -62.802266068), (197.330001125, -71.046830544), (198.208680782, -71.925510201), (199.451321469, -71.925510201), (200.330001125, -71.046830544), (200.330001125, -62.802266068), align=None, mode=Mode.SUBTRACT)
        with Locations((239.465001125, -44.824767851)):
            Rectangle(SKETCH1_W_2, SKETCH1_H_2, mode=Mode.SUBTRACT)
    extrude(amount=BOSS_EXTRUDE1_DEPTH)

    # Sketch2 → Cut-Extrude1 (cut, through all)
    with BuildSketch(Plane(origin=(6.4, 0, 0), x_dir=(0, 0, -1), z_dir=(1, 0, 0))):
        with Locations((22.965001125, -275.874767851)):
            Circle(SKETCH2_R)
        with Locations((86.365001125, -311.024767851)):
            Circle(SKETCH2_R)
        with Locations((239.465001125, -257.624767851)):
            Rectangle(SKETCH2_W, SKETCH2_H)
        with Locations((239.465001125, -227.624767851)):
            Rectangle(SKETCH2_W, SKETCH2_H)
        with Locations((-66.934998875, -257.624767851)):
            Rectangle(SKETCH2_W, SKETCH2_H)
        with Locations((-66.934998875, -227.624767851)):
            Rectangle(SKETCH2_W, SKETCH2_H)
        with Locations((-66.934998875, -151.224767851)):
            Rectangle(SKETCH2_W, SKETCH2_H)
        with Locations((-66.934998875, -121.224767851)):
            Rectangle(SKETCH2_W, SKETCH2_H)
        with Locations((-66.934998875, -44.824767851)):
            Rectangle(SKETCH2_W, SKETCH2_H)
        with Locations((-66.934998875, -14.824767851)):
            Rectangle(SKETCH2_W, SKETCH2_H)
        with Locations((239.465001125, -121.224767851)):
            Rectangle(SKETCH2_W, SKETCH2_H)
        with Locations((239.465001125, -151.224767851)):
            Rectangle(SKETCH2_W, SKETCH2_H)
        with Locations((239.465001125, -14.824767851)):
            Rectangle(SKETCH2_W, SKETCH2_H)
        with Locations((239.465001125, -44.824767851)):
            Rectangle(SKETCH2_W, SKETCH2_H)
        with Locations((71.365001125, -259.124767851)):
            Rectangle(SKETCH2_W_2, SKETCH2_H_2)
        with Locations((101.365001125, -259.124767851)):
            Rectangle(SKETCH2_W_2, SKETCH2_H_2)
        with Locations((151.465001125, -259.124767851)):
            Rectangle(SKETCH2_W_2, SKETCH2_H_2)
        with Locations((181.465001125, -259.124767851)):
            Rectangle(SKETCH2_W_2, SKETCH2_H_2)
        with Locations((151.365001125, 34.475232149)):
            Rectangle(SKETCH2_W_2, SKETCH2_H_2)
        with Locations((181.365001125, 34.475232149)):
            Rectangle(SKETCH2_W_2, SKETCH2_H_2)
        with Locations((-8.734998875, -259.124767851)):
            Rectangle(SKETCH2_W_2, SKETCH2_H_2)
        with Locations((21.265001125, -259.124767851)):
            Rectangle(SKETCH2_W_2, SKETCH2_H_2)
        with Locations((71.365001125, 34.475232149)):
            Rectangle(SKETCH2_W_2, SKETCH2_H_2)
        with Locations((101.365001125, 34.475232149)):
            Rectangle(SKETCH2_W_2, SKETCH2_H_2)
        with Locations((-8.834998875, 34.475232149)):
            Rectangle(SKETCH2_W_2, SKETCH2_H_2)
        with Locations((21.165001125, 34.475232149)):
            Rectangle(SKETCH2_W_2, SKETCH2_H_2)
        with Locations((22.965001125, -294.324767851)):
            Rectangle(SKETCH2_W, SKETCH2_H_3)
    extrude(amount=-CUT_EXTRUDE1_DEPTH, mode=Mode.SUBTRACT)


solid = part.part
